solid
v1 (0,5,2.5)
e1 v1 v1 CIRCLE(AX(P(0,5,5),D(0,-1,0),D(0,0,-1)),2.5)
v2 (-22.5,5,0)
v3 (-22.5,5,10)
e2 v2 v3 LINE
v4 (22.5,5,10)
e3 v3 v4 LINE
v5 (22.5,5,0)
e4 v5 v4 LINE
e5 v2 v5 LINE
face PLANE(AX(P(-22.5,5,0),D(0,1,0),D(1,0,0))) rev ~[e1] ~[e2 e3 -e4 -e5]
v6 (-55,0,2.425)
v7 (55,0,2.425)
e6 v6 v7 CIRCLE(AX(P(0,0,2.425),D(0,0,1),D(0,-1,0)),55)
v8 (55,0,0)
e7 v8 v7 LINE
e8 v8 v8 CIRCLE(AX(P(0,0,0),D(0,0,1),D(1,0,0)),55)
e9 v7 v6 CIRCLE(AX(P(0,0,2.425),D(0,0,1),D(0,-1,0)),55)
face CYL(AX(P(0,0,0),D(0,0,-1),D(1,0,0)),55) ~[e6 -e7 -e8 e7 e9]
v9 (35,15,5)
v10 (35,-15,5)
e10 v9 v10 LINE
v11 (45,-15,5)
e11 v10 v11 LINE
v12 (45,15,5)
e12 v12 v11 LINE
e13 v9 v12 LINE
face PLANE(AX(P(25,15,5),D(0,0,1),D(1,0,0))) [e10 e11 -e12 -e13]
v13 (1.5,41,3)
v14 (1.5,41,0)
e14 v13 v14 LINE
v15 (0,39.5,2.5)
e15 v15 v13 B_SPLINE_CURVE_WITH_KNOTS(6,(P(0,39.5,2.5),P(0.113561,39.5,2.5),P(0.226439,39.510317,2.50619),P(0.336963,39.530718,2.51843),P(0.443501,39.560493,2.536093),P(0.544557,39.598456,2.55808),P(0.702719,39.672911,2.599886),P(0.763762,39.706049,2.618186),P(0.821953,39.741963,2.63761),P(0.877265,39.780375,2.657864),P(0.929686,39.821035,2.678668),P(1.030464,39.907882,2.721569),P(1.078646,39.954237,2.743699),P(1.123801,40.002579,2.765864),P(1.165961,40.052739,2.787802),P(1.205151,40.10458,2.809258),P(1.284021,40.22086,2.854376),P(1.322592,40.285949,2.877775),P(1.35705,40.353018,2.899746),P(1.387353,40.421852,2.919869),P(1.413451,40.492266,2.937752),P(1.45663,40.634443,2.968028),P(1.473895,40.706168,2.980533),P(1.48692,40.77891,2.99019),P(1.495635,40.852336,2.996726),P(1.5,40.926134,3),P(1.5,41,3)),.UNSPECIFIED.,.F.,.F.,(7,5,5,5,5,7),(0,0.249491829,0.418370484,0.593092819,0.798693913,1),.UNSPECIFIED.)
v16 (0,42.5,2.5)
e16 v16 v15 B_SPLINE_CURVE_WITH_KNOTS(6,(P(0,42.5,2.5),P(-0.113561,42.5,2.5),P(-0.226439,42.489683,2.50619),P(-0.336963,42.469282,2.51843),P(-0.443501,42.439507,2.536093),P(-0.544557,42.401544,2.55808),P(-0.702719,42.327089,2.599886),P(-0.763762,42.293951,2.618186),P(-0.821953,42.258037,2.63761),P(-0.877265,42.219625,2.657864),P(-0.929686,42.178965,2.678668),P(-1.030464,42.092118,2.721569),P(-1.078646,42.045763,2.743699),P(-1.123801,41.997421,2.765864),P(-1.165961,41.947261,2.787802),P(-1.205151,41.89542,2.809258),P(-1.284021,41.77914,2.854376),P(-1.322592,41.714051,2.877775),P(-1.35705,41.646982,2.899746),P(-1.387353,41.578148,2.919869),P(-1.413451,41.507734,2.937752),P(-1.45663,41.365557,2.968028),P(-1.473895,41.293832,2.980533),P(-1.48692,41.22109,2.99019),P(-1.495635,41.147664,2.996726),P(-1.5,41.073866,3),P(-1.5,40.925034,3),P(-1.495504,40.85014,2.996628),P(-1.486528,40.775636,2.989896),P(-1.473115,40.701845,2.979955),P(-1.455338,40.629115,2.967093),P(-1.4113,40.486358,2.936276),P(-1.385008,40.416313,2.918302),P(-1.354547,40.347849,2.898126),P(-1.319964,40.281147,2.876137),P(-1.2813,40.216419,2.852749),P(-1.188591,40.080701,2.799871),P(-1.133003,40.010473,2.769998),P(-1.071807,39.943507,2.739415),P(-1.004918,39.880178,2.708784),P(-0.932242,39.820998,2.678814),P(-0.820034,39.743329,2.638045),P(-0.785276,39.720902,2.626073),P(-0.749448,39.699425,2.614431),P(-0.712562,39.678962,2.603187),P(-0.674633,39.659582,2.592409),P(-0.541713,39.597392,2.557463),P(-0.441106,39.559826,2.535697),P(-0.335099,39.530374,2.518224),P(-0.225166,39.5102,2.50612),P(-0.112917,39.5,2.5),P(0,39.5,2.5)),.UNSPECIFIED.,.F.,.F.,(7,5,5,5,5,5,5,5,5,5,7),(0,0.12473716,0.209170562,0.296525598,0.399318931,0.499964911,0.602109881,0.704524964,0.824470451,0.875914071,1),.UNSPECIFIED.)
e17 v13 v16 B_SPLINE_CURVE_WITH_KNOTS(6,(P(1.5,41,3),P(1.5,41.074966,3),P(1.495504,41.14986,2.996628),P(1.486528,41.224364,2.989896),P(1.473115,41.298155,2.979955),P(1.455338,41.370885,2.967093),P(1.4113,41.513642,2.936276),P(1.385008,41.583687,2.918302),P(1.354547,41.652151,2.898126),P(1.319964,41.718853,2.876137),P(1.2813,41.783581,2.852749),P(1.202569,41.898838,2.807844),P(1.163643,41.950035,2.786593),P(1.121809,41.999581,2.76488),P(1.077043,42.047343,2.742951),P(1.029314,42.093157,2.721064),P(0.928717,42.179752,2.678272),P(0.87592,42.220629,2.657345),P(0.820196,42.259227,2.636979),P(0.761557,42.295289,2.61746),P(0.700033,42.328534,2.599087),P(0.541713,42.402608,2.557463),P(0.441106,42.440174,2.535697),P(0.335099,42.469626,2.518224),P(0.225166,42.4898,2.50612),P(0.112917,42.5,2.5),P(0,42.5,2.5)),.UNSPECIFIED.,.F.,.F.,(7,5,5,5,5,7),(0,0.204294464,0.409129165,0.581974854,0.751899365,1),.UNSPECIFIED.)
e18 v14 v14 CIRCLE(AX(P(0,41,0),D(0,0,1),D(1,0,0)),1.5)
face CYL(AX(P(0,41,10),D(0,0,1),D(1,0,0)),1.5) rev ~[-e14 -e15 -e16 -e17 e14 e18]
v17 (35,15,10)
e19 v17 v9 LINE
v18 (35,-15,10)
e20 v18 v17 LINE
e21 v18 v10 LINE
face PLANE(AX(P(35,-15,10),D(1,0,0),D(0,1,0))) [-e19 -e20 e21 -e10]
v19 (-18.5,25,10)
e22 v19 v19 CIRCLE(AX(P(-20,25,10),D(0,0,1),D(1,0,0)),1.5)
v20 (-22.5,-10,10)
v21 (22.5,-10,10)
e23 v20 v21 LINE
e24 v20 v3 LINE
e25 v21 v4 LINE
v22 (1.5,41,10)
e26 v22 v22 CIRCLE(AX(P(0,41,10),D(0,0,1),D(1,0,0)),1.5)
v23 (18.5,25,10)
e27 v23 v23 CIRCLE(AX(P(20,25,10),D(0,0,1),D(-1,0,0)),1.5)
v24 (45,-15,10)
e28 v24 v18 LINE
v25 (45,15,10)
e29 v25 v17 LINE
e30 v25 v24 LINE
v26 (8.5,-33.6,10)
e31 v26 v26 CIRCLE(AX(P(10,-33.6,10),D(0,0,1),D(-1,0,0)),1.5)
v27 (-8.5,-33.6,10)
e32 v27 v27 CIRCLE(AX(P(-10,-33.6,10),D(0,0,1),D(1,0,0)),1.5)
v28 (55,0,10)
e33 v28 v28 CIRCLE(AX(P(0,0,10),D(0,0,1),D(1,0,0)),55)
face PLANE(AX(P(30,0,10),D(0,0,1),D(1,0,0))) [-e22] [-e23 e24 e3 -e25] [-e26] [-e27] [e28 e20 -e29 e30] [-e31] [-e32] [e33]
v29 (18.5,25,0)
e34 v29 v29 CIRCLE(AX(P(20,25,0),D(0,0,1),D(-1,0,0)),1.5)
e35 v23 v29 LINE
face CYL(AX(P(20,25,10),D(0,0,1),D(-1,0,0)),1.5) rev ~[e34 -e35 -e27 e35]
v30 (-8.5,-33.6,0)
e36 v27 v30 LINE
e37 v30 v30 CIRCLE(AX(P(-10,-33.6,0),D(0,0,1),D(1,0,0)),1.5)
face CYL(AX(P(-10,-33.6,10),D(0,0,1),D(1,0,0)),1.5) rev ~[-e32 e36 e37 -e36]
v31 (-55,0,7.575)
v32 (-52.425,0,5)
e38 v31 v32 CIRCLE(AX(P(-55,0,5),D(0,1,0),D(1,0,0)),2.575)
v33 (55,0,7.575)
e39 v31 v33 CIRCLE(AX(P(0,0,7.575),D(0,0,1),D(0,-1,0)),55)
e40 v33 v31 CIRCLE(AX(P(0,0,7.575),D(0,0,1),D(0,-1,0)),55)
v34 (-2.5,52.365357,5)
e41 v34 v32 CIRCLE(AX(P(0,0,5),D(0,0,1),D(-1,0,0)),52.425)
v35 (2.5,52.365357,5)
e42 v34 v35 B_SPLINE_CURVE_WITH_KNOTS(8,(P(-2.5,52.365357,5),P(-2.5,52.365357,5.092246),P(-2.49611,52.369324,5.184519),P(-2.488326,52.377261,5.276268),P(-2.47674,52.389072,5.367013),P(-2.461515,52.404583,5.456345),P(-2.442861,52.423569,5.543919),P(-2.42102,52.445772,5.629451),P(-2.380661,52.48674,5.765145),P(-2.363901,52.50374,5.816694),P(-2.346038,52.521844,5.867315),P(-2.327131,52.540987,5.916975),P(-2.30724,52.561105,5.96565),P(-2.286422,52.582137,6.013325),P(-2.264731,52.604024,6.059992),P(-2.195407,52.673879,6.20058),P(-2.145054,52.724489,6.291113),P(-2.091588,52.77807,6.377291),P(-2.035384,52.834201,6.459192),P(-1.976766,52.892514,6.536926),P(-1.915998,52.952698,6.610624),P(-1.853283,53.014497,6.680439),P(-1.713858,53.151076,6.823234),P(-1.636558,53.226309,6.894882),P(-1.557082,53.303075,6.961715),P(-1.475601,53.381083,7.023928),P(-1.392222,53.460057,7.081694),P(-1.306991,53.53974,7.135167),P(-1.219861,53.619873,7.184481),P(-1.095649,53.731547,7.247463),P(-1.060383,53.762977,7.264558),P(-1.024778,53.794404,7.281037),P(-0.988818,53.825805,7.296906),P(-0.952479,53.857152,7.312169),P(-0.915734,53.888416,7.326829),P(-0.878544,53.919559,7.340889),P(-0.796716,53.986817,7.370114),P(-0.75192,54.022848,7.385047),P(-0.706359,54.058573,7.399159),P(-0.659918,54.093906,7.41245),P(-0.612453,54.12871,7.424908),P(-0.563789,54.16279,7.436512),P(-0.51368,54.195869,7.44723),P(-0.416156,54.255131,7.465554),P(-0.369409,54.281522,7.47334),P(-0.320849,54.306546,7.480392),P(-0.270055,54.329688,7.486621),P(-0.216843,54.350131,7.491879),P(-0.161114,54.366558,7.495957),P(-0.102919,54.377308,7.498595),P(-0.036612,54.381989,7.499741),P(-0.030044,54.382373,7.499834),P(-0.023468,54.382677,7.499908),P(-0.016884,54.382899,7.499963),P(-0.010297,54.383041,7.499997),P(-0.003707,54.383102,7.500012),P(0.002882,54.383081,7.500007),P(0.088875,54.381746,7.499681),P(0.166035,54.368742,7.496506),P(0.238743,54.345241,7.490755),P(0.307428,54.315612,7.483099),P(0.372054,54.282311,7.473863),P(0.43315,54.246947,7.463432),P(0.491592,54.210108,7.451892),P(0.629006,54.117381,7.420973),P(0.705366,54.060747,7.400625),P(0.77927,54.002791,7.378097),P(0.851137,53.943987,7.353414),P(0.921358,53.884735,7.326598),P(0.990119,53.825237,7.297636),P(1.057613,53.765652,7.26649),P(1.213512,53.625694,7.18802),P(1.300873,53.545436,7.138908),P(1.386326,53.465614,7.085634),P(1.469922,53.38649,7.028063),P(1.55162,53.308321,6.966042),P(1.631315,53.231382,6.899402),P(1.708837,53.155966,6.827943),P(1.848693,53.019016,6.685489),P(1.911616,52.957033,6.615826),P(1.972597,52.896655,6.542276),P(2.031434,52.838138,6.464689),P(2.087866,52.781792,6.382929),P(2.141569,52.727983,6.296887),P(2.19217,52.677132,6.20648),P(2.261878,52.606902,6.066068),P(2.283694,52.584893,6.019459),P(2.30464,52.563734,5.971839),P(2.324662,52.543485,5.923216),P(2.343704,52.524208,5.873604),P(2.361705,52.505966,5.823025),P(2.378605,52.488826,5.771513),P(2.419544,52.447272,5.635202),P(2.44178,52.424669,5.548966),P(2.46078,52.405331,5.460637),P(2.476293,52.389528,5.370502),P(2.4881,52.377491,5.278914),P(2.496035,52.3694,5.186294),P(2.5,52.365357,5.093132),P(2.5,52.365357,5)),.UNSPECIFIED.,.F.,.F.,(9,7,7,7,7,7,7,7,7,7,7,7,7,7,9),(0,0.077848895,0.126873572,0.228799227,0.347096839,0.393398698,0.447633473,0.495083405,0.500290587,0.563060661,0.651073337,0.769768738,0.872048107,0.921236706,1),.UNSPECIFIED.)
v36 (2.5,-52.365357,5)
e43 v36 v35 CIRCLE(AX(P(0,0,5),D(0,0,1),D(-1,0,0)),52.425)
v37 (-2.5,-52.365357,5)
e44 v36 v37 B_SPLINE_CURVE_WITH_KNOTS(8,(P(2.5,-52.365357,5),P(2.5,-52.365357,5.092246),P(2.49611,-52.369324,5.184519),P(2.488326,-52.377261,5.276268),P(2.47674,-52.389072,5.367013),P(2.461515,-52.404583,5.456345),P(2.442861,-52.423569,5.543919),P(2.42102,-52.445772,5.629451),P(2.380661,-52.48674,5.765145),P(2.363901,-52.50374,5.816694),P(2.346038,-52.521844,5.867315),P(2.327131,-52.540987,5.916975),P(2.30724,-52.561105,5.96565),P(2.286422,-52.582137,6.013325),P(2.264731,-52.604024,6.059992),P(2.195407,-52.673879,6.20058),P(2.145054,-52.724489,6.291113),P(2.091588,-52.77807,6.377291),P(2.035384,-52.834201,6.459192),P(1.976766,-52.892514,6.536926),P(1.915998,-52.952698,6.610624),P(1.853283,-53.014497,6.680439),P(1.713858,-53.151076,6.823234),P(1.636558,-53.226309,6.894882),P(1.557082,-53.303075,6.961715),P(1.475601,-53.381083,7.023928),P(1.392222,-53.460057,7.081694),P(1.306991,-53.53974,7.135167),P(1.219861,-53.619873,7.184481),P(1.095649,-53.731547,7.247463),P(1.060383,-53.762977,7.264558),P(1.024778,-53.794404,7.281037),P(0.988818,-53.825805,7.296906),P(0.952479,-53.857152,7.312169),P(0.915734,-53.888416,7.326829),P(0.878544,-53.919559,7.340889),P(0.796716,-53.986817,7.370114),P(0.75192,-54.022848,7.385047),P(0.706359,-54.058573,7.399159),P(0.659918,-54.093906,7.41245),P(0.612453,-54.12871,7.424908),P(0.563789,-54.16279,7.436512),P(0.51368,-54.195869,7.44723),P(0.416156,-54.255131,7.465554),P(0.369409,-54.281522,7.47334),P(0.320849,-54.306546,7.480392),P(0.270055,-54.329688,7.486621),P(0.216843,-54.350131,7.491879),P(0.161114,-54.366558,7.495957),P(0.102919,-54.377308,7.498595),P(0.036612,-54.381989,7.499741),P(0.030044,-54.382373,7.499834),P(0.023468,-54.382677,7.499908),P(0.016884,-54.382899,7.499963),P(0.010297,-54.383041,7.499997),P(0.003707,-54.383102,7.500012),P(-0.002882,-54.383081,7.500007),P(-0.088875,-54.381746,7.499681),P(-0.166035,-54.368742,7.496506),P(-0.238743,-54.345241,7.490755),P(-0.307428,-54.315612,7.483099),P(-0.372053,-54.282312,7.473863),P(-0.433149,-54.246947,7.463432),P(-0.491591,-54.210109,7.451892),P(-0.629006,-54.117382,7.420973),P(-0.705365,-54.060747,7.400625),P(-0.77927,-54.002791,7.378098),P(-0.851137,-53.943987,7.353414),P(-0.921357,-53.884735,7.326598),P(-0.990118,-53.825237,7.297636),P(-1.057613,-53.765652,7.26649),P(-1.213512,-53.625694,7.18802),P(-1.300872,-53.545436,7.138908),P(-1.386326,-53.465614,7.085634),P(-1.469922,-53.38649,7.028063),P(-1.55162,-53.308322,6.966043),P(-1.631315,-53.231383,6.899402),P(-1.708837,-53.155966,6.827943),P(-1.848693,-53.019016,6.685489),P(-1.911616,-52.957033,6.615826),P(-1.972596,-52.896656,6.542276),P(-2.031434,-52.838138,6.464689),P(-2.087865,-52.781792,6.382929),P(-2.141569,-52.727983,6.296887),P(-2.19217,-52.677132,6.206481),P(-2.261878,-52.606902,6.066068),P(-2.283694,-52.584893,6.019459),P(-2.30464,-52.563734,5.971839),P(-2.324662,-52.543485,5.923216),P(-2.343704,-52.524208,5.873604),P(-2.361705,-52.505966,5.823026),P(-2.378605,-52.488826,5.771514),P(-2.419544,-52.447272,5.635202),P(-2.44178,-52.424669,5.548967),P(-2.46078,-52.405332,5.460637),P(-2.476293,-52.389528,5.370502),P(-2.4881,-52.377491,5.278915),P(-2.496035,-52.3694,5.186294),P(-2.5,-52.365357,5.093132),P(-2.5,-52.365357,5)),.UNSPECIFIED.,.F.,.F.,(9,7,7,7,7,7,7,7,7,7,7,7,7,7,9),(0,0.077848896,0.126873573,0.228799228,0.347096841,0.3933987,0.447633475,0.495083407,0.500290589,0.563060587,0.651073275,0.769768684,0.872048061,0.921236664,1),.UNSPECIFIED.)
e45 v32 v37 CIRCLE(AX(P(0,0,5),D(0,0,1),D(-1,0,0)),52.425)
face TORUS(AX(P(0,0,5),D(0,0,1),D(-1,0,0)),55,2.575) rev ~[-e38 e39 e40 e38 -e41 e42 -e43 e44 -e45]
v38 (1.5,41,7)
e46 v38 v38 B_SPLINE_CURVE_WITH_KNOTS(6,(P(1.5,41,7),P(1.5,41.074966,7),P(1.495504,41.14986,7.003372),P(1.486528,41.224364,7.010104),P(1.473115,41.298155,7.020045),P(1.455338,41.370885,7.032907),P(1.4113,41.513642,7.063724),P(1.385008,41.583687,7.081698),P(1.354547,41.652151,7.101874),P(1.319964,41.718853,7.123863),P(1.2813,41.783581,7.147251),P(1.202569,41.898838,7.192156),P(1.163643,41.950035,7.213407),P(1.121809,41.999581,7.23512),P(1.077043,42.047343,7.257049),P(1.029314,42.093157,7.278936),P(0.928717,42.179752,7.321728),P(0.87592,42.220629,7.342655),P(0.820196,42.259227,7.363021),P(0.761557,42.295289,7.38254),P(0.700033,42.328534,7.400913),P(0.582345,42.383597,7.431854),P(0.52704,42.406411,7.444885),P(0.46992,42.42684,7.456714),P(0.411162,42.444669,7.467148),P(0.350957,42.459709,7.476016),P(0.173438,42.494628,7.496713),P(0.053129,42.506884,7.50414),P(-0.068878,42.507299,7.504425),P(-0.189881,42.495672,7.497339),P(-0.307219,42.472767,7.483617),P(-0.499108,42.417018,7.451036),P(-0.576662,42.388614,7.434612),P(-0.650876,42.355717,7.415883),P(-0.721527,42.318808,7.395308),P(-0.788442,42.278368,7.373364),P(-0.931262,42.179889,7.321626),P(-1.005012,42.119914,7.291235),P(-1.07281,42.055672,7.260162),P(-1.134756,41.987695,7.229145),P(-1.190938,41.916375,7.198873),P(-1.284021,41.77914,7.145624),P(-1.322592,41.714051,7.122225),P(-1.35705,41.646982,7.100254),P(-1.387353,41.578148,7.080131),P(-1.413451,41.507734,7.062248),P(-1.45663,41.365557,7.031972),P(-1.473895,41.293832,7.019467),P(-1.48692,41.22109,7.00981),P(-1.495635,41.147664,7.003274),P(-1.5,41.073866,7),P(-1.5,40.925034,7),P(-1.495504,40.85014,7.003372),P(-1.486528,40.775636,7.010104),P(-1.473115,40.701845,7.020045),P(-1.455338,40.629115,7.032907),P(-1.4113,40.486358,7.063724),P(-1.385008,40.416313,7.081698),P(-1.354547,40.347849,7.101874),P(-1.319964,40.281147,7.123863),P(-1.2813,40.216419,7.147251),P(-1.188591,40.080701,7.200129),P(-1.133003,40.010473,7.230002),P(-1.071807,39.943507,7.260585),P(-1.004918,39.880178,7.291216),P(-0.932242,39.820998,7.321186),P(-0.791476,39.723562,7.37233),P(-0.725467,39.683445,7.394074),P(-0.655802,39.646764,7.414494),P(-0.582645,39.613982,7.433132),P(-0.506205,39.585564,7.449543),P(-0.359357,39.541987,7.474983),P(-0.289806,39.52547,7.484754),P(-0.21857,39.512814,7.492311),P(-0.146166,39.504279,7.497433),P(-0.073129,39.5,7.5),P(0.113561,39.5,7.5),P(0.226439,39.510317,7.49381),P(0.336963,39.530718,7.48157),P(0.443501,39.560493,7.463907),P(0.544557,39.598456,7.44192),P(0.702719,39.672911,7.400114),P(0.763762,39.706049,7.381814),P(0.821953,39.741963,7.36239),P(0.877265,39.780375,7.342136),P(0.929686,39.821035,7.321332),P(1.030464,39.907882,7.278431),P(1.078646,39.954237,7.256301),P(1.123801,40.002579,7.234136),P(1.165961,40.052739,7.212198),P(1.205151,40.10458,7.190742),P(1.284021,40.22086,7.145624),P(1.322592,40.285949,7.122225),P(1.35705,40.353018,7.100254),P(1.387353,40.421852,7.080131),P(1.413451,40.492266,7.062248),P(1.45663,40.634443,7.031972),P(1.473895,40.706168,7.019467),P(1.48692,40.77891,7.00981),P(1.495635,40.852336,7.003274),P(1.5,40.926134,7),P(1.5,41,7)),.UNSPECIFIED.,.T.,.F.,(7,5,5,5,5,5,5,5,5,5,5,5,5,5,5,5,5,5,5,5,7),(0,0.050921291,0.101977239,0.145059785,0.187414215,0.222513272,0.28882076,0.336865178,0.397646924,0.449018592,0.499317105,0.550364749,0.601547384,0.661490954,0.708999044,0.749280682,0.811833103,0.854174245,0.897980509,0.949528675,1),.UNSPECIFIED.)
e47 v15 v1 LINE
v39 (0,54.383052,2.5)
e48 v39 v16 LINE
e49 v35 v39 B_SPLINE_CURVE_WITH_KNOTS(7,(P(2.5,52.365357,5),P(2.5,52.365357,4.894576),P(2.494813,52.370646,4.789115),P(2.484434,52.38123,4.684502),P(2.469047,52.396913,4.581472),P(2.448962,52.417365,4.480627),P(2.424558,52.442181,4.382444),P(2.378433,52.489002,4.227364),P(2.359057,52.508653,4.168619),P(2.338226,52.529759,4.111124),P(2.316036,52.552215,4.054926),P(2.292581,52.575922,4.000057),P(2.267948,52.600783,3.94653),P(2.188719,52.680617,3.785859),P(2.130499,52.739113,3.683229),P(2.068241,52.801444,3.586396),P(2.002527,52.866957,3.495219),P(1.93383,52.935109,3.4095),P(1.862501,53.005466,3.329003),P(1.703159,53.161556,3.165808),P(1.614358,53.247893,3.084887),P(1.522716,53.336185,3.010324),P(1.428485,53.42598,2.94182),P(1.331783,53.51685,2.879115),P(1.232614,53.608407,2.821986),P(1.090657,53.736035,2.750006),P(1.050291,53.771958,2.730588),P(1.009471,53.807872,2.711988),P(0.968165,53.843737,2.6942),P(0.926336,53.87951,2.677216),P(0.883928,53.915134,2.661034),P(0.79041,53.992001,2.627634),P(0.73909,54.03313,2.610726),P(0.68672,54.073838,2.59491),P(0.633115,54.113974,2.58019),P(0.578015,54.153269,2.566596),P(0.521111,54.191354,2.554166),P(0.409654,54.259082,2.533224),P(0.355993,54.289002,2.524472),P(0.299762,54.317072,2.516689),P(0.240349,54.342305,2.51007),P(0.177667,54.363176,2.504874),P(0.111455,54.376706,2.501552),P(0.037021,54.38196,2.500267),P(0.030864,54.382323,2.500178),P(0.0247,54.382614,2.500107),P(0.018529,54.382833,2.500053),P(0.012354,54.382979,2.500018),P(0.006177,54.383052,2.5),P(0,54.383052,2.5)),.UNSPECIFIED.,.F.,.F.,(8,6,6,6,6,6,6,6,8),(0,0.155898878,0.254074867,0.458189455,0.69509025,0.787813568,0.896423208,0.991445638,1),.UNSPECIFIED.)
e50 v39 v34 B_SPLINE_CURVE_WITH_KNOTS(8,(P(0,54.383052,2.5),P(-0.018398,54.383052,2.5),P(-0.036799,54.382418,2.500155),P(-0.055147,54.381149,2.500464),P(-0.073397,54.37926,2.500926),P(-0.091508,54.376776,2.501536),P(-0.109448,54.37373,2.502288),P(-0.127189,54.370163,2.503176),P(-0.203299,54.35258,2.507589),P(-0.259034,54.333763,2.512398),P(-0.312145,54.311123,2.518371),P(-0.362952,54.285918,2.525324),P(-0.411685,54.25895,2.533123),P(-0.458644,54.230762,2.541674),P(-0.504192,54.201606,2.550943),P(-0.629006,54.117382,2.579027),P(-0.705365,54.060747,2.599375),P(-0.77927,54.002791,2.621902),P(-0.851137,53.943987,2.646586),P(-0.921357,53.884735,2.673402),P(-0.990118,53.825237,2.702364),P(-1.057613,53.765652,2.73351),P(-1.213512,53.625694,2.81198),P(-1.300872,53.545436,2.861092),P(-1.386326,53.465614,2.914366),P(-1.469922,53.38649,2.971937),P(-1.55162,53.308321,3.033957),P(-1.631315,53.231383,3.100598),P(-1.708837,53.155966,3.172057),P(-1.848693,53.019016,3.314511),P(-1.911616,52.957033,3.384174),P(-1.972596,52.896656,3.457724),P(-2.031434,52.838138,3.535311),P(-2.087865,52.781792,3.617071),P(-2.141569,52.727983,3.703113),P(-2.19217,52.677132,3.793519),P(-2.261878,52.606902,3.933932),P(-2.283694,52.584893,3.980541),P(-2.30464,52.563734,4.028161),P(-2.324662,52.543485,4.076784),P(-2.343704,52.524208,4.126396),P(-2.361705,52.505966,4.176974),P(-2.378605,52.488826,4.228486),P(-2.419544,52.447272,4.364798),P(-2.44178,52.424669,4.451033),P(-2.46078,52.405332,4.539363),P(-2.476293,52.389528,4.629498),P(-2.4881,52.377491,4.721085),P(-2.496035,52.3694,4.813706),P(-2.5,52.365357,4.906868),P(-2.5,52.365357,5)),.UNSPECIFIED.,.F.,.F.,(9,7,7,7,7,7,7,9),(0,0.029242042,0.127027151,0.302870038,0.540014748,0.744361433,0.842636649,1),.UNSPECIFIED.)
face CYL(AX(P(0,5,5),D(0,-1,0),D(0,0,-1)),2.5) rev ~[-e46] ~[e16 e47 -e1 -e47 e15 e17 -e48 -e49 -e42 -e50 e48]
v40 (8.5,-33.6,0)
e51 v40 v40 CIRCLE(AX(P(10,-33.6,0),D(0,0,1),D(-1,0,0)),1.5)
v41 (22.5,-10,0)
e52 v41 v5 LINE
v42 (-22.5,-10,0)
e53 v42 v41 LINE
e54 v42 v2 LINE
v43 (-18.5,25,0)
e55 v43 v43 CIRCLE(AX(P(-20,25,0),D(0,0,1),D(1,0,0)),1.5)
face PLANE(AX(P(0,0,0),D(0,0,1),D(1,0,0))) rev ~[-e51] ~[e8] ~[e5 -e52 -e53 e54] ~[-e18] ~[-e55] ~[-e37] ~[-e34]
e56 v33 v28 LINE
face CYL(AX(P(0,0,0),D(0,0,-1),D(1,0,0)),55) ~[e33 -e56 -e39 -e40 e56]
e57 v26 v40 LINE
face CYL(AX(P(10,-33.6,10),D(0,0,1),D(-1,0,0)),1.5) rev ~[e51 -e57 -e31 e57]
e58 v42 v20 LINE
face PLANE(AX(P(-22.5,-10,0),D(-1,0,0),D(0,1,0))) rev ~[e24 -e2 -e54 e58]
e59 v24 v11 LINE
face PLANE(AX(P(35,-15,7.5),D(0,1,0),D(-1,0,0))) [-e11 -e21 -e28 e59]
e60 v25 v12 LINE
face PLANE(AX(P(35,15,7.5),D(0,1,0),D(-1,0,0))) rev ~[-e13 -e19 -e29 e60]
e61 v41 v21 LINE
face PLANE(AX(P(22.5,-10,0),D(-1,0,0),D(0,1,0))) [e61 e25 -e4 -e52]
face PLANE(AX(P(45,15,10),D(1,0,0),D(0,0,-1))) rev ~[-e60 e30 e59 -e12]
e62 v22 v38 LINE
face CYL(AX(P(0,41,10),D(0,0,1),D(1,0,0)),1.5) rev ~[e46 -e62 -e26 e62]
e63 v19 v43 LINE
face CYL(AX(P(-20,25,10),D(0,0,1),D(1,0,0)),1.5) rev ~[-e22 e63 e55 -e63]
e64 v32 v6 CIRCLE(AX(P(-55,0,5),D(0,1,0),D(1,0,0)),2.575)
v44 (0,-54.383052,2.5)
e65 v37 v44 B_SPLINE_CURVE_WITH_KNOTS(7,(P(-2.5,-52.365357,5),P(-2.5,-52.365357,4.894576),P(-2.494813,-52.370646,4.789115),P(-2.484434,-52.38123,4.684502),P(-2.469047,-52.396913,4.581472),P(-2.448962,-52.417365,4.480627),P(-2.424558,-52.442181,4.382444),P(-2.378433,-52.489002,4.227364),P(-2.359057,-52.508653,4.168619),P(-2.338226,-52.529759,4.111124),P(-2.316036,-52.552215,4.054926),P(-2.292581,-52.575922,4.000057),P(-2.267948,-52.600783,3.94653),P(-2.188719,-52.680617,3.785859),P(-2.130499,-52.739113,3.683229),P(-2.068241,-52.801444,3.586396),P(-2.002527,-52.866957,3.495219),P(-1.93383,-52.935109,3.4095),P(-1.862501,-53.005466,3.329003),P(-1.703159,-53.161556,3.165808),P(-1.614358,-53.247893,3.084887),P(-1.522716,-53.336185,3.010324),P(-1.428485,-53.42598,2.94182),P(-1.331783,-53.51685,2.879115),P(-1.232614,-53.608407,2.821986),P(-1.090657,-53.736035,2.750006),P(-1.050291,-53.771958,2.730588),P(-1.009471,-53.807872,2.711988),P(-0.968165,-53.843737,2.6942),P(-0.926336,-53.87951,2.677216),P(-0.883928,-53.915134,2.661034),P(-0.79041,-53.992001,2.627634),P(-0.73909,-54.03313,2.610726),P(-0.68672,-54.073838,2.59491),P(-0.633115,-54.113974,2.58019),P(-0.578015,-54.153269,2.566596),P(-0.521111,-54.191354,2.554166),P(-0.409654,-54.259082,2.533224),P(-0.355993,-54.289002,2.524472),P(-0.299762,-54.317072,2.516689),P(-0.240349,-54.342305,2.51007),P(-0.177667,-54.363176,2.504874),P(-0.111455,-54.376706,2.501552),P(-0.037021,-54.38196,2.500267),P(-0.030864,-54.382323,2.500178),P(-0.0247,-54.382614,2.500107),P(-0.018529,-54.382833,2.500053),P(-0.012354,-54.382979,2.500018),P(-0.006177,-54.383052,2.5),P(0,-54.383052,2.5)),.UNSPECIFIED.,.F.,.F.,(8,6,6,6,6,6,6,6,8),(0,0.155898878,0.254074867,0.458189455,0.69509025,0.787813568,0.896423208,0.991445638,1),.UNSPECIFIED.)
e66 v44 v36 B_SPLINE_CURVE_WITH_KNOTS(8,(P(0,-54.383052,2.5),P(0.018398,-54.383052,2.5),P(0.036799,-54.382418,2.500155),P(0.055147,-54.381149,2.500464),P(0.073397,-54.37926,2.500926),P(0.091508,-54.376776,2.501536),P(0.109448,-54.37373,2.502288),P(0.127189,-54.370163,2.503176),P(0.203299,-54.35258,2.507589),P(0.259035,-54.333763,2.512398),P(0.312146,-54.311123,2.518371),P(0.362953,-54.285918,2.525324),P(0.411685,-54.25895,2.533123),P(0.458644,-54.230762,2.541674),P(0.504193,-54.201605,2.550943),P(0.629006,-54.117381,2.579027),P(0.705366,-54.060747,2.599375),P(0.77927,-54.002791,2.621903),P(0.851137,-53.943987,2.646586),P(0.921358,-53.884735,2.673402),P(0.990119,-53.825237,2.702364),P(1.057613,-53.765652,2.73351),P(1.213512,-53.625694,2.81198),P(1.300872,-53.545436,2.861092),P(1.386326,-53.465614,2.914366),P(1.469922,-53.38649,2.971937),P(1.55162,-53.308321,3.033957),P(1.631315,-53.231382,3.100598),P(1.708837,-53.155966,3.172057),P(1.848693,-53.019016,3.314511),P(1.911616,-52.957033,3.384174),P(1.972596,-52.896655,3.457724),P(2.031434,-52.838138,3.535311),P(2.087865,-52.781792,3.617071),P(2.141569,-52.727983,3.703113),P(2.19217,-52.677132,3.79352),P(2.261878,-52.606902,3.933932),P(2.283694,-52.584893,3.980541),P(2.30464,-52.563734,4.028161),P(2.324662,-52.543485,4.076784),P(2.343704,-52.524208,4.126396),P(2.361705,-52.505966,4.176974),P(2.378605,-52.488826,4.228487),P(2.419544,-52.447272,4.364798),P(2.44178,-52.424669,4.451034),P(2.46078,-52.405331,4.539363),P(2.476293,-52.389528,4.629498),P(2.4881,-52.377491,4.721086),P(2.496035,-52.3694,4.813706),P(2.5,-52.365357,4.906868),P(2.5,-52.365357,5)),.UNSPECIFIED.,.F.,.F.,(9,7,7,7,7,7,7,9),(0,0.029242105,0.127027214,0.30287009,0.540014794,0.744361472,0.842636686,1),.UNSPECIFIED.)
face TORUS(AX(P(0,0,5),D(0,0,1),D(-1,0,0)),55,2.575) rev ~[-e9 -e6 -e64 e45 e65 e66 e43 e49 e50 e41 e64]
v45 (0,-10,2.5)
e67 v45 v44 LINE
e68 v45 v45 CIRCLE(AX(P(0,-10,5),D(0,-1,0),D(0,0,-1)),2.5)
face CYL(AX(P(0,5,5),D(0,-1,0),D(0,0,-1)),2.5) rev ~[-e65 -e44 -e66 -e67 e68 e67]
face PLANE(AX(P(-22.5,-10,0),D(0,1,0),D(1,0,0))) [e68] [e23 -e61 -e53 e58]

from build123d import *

# Parameters (mm, degrees)
CROQUIS1_R              = 55
CROQUIS1_W              = 45
CROQUIS1_H              = 15
SALIENTE_EXTRUIR1_DEPTH = 10
CROQUIS2_W              = 10
CROQUIS2_H              = 30
SALIENTE_EXTRUIR2_DEPTH = 65
CROQUIS3_R              = 1.5
CORTAR_EXTRUIR1_DEPTH   = 50
CORTAR_EXTRUIR2_DEPTH   = 10
CROQUIS5_R              = 2.5
CORTAR_EXTRUIR3_DEPTH   = 85
CROQUIS8_R              = 1.5
CORTAR_EXTRUIR4_DEPTH   = 10
CROQUIS10_R             = 2.575
CROQUIS11_W             = 10
CROQUIS11_H             = 70
CORTAR_EXTRUIR5_DEPTH   = 30
CORTAR_EXTRUIR6_DEPTH   = 30
SALIENTE_EXTRUIR4_REACH = 80.422
CROQUIS13_W             = 10
CROQUIS13_H             = 30
CROQUIS7_R              = 1.5
CORTAR_EXTRUIR9_DEPTH   = 10


with BuildPart() as part:
    # Croquis1 → Saliente-Extruir1 (new body)
    with BuildSketch(Plane.XY):
        Circle(CROQUIS1_R)
        with Locations((0, -2.5)):
            Rectangle(CROQUIS1_W, CROQUIS1_H, mode=Mode.SUBTRACT)
    extrude(amount=SALIENTE_EXTRUIR1_DEPTH)

    # Croquis2 → Saliente-Extruir2 (add)
    with BuildSketch(Plane.XY.offset(10)):
        with Locations((30, 0)):
            Rectangle(CROQUIS2_W, CROQUIS2_H)
    extrude(amount=SALIENTE_EXTRUIR2_DEPTH)

    # Croquis3 → Cortar-Extruir1 (cut)
    with BuildSketch(Plane.XZ.offset(15)):
        with Locations((30, 70)):
            Circle(CROQUIS3_R)
    extrude(amount=-CORTAR_EXTRUIR1_DEPTH, mode=Mode.SUBTRACT)

    # Croquis4 → Cortar-Extruir2 (cut)
    with BuildSketch(Plane.XZ.offset(15)):
        Polygon((35, 65), (25, 42.602429787), (25, 65), (25, 75), (35, 75), align=None)
    cortar_extruir2 = extrude(amount=-CORTAR_EXTRUIR2_DEPTH, mode=Mode.SUBTRACT)

    # Simetría1: Cortar-Extruir2 across plane
    add(cortar_extruir2.mirror(Plane.ZX), mode=Mode.SUBTRACT)

    # Croquis5 → Cortar-Extruir3 (cut, symmetric)
    with BuildSketch(Plane.XZ.offset(-5)):
        with Locations(Location((0, 5, 0), (0, 0, 270))):
            Circle(CROQUIS5_R)
    extrude(amount=CORTAR_EXTRUIR3_DEPTH, both=True, mode=Mode.SUBTRACT)

    # Croquis8 → Cortar-Extruir4 (cut)
    with BuildSketch(Plane.XY.offset(10)):
        with Locations(Location((9.999999991, -33.6, 0), (0, 0, 180))):
            Circle(CROQUIS8_R)
        with Locations(Location((19.999999995, 25, 0), (0, 0, 180))):
            Circle(CROQUIS8_R)
        with Locations((-20.000000005, 25)):
            Circle(CROQUIS8_R)
        with Locations((-10, -33.6)):
            Circle(CROQUIS8_R)
    extrude(amount=-CORTAR_EXTRUIR4_DEPTH, mode=Mode.SUBTRACT)

    # Croquis10 → Cortar-Revolución1 (revolve, cut)
    with BuildSketch(Plane(origin=(0, 0, 0), x_dir=(1, 0, 0), z_dir=(0, 1, 0))):
        with Locations((-55, -5)):
            Circle(CROQUIS10_R)
    revolve(axis=Axis((0, 0, 0), (0, 0, 1)), mode=Mode.SUBTRACT)

    # Croquis11 → Cortar-Extruir5 (cut)
    with BuildSketch(Plane(origin=(0, 15, 0), x_dir=(1, 0, 0), z_dir=(0, 1, 0))):
        with Locations((30, -40)):
            Rectangle(CROQUIS11_W, CROQUIS11_H)
    extrude(amount=-CORTAR_EXTRUIR5_DEPTH, mode=Mode.SUBTRACT)

    # Croquis12 → Cortar-Extruir6 (cut)
    with BuildSketch(Plane.XZ.offset(-15)):
        Polygon((35, 10), (45, 10), (45, 5), (35, 5), (25, 5), (25, 10), align=None)
    extrude(amount=CORTAR_EXTRUIR6_DEPTH, mode=Mode.SUBTRACT)

    # Croquis13 → Saliente-Extruir4 (add, up to next)
    with BuildSketch(Plane.XY.offset(10), mode=Mode.PRIVATE) as saliente_extruir4_sk1:
        with Locations((30, 0)):
            Rectangle(CROQUIS13_W, CROQUIS13_H)
    saliente_extruir4_tool1 = extrude(saliente_extruir4_sk1.sketch, amount=-SALIENTE_EXTRUIR4_REACH, mode=Mode.PRIVATE) - part.part
    add(saliente_extruir4_tool1.solids().sort_by_distance((30, 0, 10))[0])

    # Croquis7 → Cortar-Extruir9 (cut)
    with BuildSketch(Plane.XY.offset(10)):
        with Locations((0, 41)):
            Circle(CROQUIS7_R)
    extrude(amount=-CORTAR_EXTRUIR9_DEPTH, mode=Mode.SUBTRACT)


solid = part.part
